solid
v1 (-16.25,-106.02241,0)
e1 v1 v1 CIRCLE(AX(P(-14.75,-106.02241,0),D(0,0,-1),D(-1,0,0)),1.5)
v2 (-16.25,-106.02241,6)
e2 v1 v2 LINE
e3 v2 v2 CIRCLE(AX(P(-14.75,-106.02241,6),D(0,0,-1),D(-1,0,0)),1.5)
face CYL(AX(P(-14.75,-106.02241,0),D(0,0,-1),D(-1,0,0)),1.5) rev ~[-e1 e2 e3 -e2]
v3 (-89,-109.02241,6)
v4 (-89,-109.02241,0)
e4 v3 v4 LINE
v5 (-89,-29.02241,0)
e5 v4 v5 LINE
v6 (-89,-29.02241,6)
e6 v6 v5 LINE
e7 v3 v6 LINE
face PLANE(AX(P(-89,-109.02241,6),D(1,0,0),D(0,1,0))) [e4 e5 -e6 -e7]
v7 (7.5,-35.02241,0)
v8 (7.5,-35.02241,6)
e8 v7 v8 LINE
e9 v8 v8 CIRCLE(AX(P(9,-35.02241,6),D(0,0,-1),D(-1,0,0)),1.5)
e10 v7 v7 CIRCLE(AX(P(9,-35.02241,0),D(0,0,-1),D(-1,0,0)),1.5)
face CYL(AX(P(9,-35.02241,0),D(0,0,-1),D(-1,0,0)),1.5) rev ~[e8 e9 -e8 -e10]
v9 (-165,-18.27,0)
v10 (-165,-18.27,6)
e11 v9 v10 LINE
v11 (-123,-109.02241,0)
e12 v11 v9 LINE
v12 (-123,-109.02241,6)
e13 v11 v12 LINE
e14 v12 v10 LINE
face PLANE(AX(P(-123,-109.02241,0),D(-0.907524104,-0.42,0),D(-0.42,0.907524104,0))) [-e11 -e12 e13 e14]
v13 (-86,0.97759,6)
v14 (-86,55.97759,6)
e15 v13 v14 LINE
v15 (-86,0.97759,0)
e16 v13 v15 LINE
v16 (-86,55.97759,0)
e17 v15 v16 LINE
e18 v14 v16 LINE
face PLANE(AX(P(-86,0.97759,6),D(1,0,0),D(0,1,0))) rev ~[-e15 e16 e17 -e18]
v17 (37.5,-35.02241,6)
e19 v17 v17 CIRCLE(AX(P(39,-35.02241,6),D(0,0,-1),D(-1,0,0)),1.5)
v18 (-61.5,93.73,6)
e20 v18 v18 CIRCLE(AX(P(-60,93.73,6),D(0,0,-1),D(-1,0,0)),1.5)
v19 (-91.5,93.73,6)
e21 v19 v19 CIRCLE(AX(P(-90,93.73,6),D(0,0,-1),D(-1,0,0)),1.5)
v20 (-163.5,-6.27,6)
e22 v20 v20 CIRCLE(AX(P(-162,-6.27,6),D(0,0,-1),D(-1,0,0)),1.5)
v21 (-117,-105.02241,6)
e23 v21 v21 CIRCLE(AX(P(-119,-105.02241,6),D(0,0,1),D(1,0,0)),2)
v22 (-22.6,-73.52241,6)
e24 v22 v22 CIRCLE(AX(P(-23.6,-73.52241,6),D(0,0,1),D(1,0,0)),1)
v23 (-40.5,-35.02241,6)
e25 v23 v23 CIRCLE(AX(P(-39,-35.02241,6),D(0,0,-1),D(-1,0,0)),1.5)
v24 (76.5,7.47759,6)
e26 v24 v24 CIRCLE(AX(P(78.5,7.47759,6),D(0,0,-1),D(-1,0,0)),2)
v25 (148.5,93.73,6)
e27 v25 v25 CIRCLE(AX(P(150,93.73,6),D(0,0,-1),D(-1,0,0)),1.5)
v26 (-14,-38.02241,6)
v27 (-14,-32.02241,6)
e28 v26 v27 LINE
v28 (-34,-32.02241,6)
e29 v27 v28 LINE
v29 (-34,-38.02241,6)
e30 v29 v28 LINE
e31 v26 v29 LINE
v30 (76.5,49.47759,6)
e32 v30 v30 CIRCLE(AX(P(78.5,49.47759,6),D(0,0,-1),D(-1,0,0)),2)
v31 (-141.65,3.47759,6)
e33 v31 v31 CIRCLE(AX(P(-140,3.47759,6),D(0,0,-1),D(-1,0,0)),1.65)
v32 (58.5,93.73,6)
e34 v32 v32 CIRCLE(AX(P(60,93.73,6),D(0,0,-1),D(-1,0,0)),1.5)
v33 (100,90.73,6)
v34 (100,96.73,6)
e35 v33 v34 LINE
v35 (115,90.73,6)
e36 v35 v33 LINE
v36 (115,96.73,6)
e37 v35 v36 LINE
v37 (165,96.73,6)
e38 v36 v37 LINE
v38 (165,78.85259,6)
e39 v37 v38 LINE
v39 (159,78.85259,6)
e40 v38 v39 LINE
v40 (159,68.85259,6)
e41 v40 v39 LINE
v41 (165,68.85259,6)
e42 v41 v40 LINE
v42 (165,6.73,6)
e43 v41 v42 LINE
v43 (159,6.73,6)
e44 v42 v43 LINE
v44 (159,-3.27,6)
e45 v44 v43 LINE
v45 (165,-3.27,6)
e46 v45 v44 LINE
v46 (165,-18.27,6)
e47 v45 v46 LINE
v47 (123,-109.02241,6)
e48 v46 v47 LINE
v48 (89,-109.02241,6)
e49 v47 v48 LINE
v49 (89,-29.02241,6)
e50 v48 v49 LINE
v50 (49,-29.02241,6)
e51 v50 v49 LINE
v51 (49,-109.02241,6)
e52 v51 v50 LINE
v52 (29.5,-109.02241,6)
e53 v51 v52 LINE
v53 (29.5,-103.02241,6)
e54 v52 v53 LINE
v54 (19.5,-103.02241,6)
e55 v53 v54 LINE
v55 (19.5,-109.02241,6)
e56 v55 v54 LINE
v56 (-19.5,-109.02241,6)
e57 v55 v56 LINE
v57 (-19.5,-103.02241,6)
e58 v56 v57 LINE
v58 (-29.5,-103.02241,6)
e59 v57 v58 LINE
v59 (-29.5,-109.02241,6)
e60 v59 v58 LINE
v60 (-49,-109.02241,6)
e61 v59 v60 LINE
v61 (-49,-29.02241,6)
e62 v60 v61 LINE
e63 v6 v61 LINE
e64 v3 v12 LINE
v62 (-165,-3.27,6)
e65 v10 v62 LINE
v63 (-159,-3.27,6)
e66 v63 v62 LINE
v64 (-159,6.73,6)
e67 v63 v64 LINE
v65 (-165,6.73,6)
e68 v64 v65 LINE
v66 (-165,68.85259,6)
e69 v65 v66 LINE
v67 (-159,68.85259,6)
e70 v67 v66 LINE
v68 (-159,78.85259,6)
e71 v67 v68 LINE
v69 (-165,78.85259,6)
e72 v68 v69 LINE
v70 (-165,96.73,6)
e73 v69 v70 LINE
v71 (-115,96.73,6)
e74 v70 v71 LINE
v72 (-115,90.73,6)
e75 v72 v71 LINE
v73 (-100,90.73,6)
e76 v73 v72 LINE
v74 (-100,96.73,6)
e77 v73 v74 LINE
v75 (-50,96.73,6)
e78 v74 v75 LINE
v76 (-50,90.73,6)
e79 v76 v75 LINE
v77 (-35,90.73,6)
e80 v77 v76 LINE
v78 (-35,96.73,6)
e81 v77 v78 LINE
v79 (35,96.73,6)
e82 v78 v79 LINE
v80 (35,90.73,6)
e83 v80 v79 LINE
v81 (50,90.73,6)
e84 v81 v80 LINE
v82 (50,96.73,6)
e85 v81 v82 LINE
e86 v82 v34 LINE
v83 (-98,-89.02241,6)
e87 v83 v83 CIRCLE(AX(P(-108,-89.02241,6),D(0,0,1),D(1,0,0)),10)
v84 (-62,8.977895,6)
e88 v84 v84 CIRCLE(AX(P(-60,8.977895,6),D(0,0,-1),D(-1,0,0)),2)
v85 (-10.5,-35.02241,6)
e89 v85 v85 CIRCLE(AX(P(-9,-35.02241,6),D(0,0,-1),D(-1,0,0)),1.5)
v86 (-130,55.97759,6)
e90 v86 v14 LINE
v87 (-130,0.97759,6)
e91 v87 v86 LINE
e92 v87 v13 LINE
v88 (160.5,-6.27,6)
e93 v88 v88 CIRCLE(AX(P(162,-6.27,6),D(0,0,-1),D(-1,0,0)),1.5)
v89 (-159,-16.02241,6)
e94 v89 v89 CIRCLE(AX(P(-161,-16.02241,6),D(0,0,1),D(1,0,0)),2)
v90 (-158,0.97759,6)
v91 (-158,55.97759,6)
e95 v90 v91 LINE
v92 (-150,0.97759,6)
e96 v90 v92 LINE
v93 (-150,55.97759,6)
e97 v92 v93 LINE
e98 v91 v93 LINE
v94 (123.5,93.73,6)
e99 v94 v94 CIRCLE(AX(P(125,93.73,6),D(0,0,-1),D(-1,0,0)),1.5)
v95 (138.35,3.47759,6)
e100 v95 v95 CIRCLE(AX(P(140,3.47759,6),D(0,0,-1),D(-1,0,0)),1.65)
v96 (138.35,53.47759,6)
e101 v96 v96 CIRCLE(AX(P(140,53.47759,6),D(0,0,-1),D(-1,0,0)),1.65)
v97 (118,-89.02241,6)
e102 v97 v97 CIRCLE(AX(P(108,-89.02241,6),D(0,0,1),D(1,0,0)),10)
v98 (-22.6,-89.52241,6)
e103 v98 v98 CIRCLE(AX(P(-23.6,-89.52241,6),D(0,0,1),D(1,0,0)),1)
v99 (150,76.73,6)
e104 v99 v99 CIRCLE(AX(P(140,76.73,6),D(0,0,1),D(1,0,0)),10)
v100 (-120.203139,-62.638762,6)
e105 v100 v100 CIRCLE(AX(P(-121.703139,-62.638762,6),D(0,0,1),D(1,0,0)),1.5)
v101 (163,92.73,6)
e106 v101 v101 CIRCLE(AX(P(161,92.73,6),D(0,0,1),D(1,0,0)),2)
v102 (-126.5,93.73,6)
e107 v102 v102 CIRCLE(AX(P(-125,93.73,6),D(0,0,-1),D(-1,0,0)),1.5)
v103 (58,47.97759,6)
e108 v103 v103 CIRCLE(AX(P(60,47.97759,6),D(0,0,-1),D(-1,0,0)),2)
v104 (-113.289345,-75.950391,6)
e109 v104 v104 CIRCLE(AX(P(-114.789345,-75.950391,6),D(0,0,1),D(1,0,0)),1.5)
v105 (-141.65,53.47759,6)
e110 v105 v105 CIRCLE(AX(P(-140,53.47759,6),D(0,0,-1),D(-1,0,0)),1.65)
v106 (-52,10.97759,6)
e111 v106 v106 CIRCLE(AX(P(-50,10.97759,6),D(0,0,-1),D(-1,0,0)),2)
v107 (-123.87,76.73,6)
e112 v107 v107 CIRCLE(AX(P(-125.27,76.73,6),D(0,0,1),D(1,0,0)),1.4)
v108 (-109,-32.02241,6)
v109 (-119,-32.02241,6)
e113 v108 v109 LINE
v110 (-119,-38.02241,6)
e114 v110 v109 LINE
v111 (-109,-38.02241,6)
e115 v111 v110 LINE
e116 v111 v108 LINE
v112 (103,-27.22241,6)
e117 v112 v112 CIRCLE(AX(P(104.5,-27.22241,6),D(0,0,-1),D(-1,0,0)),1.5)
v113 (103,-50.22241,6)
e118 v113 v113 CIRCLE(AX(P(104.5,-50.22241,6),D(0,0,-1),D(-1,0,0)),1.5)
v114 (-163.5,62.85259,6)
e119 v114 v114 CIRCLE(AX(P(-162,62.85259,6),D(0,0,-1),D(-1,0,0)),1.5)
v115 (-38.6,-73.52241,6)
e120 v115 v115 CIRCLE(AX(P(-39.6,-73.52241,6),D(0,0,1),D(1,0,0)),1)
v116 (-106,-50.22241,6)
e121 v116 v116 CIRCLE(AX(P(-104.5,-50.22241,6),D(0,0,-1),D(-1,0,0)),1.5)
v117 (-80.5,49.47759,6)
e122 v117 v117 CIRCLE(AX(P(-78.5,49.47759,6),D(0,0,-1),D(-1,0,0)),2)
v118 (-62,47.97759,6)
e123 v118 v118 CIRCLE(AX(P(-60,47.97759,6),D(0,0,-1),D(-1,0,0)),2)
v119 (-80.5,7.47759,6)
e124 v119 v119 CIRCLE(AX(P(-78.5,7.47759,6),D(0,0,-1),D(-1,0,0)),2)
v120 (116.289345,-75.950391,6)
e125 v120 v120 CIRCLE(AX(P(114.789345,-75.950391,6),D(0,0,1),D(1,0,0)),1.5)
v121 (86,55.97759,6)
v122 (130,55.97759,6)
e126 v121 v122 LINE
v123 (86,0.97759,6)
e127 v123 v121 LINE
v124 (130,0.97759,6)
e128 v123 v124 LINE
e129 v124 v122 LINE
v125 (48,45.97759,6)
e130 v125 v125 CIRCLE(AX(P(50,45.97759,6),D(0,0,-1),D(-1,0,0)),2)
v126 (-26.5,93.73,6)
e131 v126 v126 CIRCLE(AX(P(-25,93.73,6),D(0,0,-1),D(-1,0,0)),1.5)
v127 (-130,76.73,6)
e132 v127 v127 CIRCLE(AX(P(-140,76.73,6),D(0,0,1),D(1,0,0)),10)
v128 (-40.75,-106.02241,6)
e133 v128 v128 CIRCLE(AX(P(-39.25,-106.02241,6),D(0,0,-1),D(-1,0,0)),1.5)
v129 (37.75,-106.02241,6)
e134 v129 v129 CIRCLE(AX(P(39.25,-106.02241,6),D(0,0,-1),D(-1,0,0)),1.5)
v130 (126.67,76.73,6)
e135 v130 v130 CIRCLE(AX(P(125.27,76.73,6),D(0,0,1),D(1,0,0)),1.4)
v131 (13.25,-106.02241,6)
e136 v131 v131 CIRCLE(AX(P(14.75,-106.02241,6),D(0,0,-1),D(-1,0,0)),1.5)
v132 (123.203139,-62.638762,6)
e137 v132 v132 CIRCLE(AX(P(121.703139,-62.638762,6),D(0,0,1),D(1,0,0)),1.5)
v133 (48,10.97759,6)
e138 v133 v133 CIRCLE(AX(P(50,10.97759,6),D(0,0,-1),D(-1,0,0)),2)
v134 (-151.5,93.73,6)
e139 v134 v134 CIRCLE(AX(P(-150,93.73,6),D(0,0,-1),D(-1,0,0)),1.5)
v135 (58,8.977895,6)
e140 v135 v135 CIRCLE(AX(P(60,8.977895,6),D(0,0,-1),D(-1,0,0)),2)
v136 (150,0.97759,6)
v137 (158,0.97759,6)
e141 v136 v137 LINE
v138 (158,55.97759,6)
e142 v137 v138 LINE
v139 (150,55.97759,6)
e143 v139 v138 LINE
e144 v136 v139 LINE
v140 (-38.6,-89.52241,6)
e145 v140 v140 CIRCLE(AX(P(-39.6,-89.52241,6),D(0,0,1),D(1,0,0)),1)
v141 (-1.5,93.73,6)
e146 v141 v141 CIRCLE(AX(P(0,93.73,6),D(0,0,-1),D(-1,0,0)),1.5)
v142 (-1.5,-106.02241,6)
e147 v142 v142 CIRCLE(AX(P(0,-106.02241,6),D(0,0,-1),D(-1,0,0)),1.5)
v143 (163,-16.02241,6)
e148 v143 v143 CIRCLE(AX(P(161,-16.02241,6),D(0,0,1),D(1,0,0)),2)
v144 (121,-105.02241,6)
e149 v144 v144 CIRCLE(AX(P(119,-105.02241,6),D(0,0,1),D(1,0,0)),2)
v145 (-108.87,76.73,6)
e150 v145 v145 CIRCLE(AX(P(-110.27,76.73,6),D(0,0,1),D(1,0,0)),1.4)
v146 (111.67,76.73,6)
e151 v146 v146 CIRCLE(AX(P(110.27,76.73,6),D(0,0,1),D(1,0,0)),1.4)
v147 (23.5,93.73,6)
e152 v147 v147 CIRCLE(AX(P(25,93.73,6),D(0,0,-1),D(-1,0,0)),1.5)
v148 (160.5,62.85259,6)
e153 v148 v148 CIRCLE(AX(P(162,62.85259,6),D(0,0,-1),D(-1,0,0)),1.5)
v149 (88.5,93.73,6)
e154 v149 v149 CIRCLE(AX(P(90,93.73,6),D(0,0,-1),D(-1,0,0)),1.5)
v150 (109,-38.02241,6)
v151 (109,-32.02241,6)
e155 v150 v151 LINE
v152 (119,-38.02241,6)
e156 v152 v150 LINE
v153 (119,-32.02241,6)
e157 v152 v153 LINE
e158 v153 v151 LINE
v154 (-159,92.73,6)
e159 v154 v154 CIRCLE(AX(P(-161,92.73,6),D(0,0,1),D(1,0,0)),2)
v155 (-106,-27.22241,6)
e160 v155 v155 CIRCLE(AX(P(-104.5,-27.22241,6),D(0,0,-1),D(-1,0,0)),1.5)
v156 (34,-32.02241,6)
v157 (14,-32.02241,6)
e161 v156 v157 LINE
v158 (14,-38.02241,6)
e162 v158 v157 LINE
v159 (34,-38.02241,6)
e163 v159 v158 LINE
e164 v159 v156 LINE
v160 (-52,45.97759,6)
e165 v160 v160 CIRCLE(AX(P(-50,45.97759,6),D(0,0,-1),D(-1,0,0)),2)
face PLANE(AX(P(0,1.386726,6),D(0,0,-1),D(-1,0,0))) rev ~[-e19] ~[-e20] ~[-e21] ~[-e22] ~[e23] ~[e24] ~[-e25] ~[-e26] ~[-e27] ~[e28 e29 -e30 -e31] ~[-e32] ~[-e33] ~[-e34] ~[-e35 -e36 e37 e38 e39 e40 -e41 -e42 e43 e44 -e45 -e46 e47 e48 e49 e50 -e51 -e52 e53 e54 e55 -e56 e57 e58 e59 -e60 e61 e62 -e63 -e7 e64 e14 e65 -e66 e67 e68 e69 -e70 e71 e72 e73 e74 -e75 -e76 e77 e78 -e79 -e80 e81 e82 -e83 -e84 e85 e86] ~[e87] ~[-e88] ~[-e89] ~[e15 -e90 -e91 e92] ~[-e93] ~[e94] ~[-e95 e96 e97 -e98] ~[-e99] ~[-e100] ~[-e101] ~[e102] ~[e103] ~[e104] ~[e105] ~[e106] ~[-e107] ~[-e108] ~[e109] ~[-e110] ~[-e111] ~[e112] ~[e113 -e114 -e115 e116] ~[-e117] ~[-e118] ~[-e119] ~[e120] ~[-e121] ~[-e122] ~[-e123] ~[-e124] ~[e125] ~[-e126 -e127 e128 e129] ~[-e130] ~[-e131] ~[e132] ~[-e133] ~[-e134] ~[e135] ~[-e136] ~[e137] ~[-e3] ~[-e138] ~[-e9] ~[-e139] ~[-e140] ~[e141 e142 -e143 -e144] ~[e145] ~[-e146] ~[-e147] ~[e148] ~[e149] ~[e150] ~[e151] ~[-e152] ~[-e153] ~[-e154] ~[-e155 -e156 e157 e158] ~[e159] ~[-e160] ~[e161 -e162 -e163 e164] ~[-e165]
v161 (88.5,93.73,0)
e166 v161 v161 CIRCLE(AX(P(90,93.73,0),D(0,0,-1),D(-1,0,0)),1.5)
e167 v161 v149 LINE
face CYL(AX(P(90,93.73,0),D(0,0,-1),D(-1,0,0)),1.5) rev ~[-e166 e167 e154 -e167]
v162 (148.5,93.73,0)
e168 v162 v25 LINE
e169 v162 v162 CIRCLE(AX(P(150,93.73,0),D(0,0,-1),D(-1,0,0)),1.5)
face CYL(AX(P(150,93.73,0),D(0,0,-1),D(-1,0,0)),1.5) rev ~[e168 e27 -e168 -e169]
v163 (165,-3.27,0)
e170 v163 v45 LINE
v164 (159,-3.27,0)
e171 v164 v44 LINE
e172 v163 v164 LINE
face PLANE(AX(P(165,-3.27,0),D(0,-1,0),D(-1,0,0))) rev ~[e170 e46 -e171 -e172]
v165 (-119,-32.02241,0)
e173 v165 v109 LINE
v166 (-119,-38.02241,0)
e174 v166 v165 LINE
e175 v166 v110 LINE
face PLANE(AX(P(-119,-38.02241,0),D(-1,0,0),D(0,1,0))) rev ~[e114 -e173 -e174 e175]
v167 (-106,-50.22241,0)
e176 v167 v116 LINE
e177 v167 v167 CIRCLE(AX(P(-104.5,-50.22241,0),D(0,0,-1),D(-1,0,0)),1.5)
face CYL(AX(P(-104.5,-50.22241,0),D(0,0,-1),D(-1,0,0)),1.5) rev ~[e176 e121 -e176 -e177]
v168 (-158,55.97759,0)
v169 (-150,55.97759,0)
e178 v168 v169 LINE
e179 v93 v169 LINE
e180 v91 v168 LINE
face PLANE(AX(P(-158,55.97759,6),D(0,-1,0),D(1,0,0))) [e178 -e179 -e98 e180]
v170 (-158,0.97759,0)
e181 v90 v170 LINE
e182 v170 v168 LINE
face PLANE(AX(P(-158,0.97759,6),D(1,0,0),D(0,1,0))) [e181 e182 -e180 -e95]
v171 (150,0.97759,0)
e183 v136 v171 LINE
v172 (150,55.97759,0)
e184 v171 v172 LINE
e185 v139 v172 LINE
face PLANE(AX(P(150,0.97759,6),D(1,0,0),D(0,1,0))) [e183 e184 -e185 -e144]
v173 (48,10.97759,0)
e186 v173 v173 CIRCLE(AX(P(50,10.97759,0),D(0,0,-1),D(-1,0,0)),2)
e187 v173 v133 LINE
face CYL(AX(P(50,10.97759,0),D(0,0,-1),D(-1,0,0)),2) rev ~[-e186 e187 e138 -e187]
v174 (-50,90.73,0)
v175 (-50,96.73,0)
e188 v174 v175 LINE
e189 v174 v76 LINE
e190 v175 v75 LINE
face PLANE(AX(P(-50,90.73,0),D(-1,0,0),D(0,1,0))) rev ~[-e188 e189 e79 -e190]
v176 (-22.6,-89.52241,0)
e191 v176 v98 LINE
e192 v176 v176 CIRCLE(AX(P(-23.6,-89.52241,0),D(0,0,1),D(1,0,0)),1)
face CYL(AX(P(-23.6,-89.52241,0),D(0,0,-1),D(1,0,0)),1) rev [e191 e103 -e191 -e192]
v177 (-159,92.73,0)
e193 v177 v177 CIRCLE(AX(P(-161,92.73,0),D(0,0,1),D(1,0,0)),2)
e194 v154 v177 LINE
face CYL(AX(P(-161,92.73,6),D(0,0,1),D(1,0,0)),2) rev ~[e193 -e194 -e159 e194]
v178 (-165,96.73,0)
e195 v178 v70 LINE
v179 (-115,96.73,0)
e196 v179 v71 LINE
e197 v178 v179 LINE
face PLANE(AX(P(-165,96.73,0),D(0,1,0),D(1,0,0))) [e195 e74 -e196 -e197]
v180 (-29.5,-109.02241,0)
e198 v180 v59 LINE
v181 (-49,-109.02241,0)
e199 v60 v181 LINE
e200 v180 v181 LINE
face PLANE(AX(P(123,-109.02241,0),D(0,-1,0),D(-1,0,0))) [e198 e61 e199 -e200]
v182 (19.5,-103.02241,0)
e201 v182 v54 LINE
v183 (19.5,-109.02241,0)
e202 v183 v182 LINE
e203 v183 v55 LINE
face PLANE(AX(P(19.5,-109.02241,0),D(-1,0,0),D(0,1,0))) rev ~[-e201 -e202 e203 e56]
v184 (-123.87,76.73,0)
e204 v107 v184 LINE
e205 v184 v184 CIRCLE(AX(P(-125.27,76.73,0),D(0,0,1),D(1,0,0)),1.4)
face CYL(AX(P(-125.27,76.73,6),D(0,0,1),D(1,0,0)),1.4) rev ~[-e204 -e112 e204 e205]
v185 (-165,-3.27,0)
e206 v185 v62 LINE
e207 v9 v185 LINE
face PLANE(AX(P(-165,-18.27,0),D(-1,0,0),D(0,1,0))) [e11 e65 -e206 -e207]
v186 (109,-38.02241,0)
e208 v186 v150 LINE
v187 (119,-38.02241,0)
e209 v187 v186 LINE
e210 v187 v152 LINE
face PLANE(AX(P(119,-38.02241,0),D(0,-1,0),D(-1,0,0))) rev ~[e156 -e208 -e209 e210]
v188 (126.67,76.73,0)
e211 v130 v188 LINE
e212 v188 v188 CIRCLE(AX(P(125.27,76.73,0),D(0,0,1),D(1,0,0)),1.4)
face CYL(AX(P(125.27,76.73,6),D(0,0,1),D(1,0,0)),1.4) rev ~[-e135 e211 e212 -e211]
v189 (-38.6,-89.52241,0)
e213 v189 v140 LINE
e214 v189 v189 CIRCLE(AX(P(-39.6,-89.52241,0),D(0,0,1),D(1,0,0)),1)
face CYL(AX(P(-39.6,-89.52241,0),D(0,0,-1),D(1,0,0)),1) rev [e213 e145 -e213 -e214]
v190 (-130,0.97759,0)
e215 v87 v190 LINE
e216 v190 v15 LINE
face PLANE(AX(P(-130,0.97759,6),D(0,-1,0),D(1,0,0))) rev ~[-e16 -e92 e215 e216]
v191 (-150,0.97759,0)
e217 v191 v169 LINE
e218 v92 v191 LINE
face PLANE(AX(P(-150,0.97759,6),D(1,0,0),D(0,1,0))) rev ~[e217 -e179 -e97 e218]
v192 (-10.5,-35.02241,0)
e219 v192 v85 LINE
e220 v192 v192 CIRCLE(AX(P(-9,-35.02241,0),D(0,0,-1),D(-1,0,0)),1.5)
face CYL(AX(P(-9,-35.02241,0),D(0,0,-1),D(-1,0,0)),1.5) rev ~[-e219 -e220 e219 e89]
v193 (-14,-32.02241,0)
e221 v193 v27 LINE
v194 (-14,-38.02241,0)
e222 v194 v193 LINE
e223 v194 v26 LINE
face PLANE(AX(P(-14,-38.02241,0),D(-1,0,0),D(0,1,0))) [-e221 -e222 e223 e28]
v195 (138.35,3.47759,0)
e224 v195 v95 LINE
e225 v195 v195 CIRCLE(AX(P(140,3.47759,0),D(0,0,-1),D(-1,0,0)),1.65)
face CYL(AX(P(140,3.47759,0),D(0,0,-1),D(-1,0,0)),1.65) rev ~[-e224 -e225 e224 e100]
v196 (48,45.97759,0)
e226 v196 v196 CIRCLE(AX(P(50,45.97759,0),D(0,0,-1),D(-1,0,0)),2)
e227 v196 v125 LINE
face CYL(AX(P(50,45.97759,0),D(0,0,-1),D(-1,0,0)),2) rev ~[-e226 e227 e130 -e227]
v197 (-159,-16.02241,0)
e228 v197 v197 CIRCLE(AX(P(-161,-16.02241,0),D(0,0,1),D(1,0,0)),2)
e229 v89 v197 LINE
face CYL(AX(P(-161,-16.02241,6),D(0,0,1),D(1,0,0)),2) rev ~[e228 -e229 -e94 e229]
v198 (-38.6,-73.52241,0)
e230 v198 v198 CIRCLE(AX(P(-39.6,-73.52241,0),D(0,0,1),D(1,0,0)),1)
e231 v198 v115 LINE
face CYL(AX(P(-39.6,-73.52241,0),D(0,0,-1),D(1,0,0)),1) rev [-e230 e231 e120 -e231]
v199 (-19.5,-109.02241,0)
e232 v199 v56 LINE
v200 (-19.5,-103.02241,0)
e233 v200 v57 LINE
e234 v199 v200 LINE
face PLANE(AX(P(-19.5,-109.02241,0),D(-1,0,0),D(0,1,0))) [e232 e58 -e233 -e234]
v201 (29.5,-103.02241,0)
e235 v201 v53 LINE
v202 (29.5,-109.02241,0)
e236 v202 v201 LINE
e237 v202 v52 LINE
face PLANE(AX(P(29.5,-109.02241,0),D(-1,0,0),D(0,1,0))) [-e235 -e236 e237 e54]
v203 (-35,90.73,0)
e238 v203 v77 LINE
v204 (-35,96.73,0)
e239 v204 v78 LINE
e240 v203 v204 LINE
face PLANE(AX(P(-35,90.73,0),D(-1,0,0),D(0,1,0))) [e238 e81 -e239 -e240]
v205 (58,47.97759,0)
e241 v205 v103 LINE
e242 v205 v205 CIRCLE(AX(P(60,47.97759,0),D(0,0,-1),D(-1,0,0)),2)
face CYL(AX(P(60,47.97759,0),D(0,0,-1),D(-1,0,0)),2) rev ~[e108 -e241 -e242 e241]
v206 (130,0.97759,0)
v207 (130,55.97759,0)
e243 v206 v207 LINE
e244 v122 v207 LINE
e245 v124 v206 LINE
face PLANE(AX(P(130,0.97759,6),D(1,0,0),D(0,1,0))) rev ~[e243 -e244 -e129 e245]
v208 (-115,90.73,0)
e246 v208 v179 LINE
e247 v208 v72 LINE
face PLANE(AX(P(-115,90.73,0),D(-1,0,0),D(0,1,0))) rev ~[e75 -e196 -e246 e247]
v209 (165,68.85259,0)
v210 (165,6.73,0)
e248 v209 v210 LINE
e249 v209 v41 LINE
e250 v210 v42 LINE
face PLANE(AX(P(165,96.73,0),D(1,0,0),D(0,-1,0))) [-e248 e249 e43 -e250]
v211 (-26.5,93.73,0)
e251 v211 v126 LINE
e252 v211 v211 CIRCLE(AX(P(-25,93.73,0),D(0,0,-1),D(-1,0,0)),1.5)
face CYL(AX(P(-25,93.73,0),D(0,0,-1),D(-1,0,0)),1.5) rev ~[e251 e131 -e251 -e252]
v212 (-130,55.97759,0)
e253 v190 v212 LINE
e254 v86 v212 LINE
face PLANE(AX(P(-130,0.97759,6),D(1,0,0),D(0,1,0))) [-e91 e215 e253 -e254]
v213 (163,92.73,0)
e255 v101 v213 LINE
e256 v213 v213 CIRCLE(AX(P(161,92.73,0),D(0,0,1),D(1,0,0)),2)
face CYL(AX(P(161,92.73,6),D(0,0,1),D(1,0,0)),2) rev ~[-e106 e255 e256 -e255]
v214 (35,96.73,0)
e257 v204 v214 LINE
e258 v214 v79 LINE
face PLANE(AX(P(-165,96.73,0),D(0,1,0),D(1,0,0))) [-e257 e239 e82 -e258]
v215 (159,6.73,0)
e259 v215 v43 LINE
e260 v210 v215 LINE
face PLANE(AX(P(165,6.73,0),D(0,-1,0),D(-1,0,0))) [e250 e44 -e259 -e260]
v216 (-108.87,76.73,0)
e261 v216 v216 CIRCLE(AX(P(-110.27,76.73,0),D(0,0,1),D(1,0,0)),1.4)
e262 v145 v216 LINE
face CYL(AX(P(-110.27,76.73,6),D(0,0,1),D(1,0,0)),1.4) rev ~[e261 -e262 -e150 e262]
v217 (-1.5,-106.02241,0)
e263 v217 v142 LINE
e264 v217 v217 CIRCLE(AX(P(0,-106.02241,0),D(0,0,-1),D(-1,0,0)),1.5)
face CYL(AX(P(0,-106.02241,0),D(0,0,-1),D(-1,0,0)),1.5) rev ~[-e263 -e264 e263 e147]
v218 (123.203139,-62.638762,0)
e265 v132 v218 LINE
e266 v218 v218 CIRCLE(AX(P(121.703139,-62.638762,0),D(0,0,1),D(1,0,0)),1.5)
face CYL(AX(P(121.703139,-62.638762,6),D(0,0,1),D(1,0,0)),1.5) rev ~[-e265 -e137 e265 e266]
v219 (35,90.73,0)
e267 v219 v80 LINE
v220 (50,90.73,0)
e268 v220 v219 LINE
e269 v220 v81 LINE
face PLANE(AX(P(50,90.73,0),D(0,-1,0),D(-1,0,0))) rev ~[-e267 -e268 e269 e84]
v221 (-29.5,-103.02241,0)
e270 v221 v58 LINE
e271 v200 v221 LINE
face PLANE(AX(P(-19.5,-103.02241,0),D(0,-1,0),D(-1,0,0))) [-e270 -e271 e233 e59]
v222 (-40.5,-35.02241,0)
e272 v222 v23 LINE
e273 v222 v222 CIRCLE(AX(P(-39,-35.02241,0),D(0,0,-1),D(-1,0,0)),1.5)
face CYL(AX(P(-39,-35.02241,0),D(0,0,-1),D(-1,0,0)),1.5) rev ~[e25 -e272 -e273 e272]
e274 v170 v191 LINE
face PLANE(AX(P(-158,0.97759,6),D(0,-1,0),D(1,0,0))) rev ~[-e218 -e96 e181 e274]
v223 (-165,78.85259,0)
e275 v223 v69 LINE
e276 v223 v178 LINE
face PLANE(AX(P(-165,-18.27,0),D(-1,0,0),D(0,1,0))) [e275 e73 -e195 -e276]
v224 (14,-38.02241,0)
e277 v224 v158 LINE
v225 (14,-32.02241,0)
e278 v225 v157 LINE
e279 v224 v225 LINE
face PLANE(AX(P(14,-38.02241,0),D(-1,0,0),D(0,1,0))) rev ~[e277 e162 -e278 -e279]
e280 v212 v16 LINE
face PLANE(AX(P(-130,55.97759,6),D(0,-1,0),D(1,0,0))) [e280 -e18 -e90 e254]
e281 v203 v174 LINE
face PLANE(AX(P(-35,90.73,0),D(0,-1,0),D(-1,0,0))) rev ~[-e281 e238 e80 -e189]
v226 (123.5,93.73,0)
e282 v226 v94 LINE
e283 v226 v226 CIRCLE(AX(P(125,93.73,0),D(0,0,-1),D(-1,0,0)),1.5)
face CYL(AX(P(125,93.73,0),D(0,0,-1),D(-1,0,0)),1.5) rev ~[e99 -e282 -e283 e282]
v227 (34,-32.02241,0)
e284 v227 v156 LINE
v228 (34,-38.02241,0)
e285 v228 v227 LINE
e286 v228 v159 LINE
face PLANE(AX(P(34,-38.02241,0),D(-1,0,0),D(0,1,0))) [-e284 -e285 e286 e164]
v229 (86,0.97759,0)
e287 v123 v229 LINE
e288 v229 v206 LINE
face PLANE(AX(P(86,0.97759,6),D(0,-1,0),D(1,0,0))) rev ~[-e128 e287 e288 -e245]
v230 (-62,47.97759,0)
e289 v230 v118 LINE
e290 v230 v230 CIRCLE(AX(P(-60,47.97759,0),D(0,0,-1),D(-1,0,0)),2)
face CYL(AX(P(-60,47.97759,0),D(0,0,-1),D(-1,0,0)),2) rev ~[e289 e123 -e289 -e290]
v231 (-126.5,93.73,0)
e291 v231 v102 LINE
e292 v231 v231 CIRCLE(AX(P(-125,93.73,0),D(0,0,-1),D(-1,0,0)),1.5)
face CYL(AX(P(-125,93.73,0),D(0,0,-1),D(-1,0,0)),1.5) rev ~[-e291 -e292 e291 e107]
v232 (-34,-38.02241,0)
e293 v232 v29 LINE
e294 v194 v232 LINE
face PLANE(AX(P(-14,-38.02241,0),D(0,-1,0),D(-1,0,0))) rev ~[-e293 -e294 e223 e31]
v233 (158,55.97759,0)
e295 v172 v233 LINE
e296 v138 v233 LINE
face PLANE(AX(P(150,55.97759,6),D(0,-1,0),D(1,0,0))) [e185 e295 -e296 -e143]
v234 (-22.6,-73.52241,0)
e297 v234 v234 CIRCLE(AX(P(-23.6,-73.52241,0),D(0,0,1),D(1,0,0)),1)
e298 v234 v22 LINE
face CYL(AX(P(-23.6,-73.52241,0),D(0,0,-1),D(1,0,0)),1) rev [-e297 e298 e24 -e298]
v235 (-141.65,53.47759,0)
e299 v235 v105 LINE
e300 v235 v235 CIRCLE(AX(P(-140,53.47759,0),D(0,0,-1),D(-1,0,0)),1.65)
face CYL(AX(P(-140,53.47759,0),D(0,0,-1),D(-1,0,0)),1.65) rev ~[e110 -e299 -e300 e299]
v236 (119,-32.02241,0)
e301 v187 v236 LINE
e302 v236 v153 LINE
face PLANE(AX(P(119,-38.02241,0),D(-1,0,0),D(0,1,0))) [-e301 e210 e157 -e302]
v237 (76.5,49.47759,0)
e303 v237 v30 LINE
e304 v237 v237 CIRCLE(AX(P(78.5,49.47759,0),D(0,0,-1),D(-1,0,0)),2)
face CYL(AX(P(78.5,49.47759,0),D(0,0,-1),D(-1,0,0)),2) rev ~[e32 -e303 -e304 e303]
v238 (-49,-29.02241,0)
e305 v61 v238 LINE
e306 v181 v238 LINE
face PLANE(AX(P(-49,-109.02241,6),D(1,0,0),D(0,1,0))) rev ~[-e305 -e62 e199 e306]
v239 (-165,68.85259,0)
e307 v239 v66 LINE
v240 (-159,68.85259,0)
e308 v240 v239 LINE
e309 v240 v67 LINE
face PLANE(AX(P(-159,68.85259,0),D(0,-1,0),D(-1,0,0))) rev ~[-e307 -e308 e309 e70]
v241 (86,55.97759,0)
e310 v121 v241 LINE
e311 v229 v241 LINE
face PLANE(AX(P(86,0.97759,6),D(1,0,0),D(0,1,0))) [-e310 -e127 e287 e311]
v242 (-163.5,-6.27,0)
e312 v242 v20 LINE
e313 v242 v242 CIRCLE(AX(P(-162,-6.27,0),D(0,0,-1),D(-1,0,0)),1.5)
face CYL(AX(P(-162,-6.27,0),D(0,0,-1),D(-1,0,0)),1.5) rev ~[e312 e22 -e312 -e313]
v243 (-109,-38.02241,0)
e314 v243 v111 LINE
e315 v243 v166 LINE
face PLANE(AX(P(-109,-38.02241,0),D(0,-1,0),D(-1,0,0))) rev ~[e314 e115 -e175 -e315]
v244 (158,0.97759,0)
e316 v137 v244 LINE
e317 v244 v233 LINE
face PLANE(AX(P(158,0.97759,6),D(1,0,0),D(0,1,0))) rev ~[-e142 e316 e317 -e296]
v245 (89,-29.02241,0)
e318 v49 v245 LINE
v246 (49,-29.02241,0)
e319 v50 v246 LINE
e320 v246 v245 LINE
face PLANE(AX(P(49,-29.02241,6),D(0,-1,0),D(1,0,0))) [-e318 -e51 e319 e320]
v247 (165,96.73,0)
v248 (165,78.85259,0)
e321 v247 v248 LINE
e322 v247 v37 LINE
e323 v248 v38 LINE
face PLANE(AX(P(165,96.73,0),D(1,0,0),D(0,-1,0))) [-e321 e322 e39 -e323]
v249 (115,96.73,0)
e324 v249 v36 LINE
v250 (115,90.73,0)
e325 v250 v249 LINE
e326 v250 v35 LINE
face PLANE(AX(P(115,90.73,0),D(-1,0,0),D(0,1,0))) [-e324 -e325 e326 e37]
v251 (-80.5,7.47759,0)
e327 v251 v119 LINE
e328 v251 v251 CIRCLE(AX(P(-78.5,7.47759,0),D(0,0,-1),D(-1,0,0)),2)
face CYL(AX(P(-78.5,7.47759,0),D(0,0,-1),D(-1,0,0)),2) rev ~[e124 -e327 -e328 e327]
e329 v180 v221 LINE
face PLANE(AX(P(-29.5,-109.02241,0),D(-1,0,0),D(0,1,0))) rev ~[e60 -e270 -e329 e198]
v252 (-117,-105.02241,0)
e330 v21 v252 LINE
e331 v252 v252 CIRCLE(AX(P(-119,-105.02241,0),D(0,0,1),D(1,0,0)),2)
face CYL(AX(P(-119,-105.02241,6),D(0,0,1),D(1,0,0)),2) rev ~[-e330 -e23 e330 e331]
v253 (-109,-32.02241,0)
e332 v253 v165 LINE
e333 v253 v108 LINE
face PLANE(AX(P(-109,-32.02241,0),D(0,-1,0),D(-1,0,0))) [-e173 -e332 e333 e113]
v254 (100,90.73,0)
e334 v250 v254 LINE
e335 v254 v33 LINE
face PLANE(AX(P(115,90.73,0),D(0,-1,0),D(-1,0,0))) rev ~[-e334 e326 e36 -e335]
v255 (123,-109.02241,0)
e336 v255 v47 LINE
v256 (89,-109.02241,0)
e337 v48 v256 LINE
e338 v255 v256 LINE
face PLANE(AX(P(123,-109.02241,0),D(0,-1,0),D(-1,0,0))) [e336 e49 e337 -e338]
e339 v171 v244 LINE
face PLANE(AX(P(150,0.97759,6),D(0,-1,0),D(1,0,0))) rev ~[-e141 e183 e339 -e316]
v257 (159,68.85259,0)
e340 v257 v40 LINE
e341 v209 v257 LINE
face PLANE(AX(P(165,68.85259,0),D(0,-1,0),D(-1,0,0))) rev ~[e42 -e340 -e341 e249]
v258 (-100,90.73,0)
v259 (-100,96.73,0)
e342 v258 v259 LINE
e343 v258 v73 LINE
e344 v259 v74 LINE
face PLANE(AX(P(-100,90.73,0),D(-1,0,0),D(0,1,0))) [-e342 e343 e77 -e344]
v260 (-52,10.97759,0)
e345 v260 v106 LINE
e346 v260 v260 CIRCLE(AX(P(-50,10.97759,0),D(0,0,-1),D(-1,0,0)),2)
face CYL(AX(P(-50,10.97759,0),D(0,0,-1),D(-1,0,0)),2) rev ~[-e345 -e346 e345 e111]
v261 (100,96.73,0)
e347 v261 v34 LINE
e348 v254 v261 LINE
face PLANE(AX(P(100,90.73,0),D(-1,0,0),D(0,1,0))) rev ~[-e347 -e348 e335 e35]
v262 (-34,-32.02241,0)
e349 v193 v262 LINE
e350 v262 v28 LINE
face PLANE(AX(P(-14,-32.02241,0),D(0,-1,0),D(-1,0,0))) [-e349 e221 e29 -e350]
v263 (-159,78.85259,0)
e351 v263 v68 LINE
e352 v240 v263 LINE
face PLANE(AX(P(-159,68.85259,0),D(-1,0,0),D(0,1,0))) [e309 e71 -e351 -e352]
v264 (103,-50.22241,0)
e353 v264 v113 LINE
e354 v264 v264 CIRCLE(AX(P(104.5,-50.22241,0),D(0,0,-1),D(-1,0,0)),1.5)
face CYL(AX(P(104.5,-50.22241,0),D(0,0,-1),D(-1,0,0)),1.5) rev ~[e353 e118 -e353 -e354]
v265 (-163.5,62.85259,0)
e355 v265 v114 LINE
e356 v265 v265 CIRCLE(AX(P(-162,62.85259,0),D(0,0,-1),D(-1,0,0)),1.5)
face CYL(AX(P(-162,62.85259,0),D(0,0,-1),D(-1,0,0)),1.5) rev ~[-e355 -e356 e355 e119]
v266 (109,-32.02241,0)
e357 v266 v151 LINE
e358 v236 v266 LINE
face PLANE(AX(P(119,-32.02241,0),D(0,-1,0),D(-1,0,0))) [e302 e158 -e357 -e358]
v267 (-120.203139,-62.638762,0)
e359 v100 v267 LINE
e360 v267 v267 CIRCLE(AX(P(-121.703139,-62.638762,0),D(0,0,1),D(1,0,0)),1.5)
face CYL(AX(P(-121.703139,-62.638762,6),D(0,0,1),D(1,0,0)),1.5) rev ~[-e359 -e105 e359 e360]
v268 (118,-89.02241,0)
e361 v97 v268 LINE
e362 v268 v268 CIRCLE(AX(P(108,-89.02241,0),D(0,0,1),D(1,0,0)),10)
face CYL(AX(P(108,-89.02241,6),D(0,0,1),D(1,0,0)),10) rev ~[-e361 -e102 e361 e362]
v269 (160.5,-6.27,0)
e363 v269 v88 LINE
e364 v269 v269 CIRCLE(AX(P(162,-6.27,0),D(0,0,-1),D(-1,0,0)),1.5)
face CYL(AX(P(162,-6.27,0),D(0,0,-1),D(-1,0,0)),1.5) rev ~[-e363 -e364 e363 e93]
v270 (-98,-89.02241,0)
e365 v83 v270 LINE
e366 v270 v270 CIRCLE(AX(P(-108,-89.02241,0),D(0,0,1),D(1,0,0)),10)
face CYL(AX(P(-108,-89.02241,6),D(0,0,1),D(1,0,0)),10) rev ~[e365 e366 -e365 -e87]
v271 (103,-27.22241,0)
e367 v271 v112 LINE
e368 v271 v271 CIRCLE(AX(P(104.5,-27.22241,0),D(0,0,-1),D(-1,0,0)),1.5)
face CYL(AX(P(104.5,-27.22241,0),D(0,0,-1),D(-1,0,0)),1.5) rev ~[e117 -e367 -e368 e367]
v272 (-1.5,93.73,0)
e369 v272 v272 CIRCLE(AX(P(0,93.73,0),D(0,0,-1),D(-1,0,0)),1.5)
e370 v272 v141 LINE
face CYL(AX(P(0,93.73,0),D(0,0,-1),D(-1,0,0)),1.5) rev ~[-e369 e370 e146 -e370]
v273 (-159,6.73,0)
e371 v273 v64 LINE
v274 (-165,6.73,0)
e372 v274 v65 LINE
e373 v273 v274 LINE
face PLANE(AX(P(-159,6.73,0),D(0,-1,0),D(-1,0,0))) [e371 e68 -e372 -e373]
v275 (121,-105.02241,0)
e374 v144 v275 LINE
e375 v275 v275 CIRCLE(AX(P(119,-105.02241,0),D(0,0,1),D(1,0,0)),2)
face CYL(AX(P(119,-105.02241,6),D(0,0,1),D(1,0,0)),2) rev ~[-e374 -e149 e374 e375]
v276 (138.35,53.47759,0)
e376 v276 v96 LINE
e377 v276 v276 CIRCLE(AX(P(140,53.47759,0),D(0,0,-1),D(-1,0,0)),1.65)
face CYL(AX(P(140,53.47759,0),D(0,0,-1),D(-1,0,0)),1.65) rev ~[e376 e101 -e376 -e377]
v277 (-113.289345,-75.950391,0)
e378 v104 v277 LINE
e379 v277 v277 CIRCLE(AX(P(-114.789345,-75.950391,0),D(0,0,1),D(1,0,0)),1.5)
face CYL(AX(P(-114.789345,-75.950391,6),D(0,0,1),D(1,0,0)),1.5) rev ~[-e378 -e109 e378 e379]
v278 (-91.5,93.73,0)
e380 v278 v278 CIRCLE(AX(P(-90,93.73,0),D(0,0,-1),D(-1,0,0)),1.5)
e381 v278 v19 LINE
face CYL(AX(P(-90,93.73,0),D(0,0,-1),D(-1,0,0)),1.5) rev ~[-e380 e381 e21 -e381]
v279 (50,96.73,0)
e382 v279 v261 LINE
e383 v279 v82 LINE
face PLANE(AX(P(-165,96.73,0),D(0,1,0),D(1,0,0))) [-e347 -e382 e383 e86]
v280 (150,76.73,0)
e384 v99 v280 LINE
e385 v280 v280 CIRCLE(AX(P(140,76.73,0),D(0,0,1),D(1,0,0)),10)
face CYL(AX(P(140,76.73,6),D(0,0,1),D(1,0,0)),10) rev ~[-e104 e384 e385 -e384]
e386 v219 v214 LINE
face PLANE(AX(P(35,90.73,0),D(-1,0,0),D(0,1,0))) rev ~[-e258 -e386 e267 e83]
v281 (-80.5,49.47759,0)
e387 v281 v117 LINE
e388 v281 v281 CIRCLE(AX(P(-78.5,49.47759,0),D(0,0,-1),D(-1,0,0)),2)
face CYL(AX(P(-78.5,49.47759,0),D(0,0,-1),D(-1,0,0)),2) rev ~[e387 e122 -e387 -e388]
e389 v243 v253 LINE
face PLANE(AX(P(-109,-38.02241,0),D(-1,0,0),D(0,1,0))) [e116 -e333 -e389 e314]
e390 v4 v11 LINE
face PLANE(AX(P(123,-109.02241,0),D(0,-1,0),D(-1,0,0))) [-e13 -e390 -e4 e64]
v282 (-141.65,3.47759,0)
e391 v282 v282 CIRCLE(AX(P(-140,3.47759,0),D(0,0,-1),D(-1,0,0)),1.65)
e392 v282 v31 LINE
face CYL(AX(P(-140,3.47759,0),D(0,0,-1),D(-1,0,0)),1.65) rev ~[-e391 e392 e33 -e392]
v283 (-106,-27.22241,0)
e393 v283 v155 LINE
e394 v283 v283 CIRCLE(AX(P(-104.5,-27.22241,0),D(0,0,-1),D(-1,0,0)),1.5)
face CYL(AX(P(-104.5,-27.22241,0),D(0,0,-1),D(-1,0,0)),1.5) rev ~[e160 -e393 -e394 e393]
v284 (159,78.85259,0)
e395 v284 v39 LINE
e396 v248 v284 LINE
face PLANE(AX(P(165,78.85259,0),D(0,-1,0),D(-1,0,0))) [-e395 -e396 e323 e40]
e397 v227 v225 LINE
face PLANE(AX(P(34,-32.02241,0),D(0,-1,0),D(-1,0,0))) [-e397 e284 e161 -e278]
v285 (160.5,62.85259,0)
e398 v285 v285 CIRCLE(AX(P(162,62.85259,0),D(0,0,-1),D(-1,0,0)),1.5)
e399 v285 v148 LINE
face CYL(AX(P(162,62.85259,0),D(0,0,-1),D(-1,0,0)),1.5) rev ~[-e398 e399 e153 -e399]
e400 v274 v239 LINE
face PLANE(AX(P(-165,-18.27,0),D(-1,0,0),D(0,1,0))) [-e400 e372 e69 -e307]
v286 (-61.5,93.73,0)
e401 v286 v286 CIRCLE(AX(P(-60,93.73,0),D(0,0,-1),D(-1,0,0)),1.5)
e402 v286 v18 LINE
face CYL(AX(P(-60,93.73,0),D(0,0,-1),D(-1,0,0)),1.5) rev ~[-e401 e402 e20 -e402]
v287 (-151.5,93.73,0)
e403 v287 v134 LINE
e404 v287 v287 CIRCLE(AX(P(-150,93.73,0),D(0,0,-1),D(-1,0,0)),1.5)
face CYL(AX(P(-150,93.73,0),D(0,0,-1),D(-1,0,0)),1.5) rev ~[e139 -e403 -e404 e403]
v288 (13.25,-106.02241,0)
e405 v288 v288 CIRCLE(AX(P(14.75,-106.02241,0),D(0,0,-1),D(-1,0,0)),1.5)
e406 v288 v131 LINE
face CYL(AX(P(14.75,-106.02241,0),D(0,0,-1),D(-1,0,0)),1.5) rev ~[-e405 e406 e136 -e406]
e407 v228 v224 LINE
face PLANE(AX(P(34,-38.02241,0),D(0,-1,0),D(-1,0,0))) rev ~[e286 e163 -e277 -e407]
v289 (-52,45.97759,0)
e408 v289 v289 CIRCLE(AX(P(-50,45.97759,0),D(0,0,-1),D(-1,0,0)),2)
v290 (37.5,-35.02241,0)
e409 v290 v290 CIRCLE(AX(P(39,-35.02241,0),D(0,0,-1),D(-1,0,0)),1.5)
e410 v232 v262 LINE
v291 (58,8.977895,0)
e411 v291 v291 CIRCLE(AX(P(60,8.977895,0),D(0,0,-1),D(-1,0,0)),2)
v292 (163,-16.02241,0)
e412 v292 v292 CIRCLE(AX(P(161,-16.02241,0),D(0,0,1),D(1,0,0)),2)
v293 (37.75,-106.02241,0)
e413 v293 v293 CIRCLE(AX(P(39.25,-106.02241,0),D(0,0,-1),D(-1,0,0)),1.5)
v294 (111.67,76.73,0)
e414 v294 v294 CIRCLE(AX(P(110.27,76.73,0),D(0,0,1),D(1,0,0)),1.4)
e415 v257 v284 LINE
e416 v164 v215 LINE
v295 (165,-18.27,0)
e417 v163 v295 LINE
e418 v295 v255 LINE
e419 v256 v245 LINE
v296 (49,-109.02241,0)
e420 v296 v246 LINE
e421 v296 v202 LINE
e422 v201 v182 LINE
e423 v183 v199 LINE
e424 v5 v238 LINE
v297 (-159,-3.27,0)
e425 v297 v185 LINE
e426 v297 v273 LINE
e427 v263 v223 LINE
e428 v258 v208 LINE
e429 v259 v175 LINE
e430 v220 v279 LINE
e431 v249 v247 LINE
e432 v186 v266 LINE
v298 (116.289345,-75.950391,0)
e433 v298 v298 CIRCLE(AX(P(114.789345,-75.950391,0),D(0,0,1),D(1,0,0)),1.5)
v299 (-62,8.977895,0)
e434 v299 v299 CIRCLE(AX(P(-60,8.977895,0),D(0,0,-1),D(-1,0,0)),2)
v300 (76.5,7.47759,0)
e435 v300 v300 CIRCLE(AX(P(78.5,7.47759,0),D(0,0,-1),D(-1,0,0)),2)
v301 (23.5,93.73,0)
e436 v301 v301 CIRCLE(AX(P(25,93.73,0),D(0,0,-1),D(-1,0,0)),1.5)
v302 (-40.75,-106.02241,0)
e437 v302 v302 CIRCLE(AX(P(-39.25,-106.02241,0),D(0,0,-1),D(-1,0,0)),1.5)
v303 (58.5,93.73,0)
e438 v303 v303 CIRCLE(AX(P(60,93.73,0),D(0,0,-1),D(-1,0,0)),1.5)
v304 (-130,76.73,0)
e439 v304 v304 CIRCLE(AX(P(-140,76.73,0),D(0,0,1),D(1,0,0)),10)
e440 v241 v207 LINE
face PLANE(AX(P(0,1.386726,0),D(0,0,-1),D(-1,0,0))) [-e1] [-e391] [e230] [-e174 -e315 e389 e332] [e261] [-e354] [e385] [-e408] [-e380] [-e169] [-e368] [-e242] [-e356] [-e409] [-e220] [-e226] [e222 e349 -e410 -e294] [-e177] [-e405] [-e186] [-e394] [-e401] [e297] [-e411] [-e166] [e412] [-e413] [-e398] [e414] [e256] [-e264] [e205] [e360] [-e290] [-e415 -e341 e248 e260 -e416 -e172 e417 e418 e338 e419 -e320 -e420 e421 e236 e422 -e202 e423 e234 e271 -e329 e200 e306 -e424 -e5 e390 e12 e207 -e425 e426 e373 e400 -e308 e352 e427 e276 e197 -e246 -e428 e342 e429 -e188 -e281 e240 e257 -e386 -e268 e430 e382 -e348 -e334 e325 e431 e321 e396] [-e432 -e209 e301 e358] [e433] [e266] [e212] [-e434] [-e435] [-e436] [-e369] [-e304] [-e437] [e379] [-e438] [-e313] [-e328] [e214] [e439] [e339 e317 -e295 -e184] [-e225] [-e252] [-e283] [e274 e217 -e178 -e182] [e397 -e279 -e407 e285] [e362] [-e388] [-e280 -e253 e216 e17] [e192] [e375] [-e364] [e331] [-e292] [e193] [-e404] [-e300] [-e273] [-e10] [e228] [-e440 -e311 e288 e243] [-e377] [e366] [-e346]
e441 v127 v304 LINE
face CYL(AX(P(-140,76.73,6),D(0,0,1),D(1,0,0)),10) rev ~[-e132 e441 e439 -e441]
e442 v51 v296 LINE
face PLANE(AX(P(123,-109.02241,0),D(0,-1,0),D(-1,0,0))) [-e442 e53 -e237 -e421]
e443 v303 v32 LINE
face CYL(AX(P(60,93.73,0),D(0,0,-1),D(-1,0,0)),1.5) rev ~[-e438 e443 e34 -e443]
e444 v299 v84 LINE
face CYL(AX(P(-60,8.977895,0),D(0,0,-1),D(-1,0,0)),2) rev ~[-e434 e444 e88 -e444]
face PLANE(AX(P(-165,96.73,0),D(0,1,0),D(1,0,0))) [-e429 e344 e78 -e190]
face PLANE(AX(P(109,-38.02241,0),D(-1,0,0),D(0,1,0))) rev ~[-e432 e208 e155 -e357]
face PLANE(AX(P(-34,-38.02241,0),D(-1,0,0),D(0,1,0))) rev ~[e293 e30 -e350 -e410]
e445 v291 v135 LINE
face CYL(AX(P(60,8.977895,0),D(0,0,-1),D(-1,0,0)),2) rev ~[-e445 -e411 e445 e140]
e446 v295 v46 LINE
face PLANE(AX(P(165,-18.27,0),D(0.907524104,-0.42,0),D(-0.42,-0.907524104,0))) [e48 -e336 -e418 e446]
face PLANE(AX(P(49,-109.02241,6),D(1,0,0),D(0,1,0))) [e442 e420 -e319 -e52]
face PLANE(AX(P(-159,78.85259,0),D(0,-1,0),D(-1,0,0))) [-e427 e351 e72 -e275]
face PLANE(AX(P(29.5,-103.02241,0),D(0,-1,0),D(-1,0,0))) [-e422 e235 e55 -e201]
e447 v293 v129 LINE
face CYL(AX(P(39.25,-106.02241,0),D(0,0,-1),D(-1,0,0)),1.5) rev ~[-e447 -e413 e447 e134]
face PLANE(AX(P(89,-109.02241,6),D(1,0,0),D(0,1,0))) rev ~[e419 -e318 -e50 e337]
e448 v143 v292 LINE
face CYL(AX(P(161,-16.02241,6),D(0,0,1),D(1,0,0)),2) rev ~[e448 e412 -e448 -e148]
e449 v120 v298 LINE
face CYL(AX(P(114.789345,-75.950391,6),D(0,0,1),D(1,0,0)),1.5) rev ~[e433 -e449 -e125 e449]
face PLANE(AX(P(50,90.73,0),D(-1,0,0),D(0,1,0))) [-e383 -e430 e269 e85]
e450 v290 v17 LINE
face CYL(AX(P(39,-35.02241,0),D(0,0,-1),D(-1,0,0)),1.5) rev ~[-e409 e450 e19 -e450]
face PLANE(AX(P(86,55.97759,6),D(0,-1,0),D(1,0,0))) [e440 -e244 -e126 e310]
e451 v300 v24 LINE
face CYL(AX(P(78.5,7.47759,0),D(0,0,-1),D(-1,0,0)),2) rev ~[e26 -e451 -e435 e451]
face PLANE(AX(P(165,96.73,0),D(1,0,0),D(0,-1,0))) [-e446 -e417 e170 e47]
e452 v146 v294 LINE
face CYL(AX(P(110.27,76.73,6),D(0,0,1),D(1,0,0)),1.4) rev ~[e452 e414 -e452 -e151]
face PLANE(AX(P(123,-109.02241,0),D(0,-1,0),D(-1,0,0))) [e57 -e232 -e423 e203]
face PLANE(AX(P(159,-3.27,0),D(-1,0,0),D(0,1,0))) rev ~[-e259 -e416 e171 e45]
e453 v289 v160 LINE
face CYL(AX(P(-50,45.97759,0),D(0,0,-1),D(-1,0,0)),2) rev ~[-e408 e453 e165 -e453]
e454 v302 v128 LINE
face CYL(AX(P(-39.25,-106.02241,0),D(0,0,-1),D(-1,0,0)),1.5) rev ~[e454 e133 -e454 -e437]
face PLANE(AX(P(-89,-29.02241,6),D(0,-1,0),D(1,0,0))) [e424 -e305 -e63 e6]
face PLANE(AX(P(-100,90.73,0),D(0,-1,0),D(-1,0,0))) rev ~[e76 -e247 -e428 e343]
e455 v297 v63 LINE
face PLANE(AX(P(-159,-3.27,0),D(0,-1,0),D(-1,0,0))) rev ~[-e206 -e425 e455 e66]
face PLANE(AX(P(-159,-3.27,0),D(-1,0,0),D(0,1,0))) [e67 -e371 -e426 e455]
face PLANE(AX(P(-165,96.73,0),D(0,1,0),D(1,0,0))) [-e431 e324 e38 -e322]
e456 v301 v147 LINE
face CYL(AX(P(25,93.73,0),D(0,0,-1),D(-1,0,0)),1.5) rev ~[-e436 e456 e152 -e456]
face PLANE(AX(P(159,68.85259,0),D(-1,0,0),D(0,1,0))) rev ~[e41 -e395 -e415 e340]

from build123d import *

# Parameters (mm, degrees)
ESQUISSE1_R             = 1
BOSS_EXTRU_1_DEPTH      = 6
ESQUISSE2_R             = 10
ESQUISSE2_R_2           = 2
ESQUISSE2_R_3           = 1.4
ESQUISSE2_R_4           = 1.5
ESQUISSE2_W             = 8
ESQUISSE2_H             = 55
ESQUISSE2_W_2           = 44
ESQUISSE2_W_3           = 40
ESQUISSE2_H_2           = 80
ENL_V_MAT_EXTRU_1_DEPTH = 6
ESQUISSE3_W             = 6
ESQUISSE3_H             = 10
ESQUISSE3_W_2           = 10
ESQUISSE3_H_2           = 6
ESQUISSE3_W_3           = 15
ENL_V_MAT_EXTRU_2_DEPTH = 6
ESQUISSE4_R             = 1.5
ENL_V_MAT_EXTRU_3_DEPTH = 6
ESQUISSE5_W             = 10
ESQUISSE5_H             = 6
ESQUISSE5_W_2           = 20
ENL_V_MAT_EXTRU_4_DEPTH = 6
ESQUISSE6_R             = 1.65
ESQUISSE6_R_2           = 1.5
ESQUISSE6_R_3           = 2
ENL_V_MAT_EXTRU_5_DEPTH = 6


with BuildPart() as part:
    # Esquisse1 → Boss.-Extru.1 (new body)
    with BuildSketch(Plane.XY):
        Polygon((-165, 96.73), (165, 96.73), (165, -18.27), (123, -109.022410436), (-123, -109.022410436), (-165, -18.27), align=None)
        with Locations((-23.6, -89.522410436)):
            Circle(ESQUISSE1_R, mode=Mode.SUBTRACT)
        with Locations((-23.6, -73.522410436)):
            Circle(ESQUISSE1_R, mode=Mode.SUBTRACT)
        with Locations((-39.6, -89.522410436)):
            Circle(ESQUISSE1_R, mode=Mode.SUBTRACT)
        with Locations((-39.6, -73.522410436)):
            Circle(ESQUISSE1_R, mode=Mode.SUBTRACT)
    extrude(amount=BOSS_EXTRU_1_DEPTH)

    # Esquisse2 → Enlèv. mat.-Extru.1 (cut)
    with BuildSketch(Plane.XY.offset(6)):
        with Locations((140, 76.73)):
            Circle(ESQUISSE2_R)
        with Locations((108, -89.022410436)):
            Circle(ESQUISSE2_R)
        with Locations((-140, 76.73)):
            Circle(ESQUISSE2_R)
        with Locations((-108, -89.022410436)):
            Circle(ESQUISSE2_R)
        with Locations((161, -16.022410436)):
            Circle(ESQUISSE2_R_2)
        with Locations((119, -105.022410436)):
            Circle(ESQUISSE2_R_2)
        with Locations((161, 92.73)):
            Circle(ESQUISSE2_R_2)
        with Locations((-161, 92.73)):
            Circle(ESQUISSE2_R_2)
        with Locations((-161, -16.022410436)):
            Circle(ESQUISSE2_R_2)
        with Locations((-119, -105.022410436)):
            Circle(ESQUISSE2_R_2)
        with Locations((125.27, 76.73)):
            Circle(ESQUISSE2_R_3)
        with Locations((110.27, 76.73)):
            Circle(ESQUISSE2_R_3)
        with Locations((114.7893454, -75.950391119)):
            Circle(ESQUISSE2_R_4)
        with Locations((121.703139086, -62.638762485)):
            Circle(ESQUISSE2_R_4)
        with Locations((-110.27, 76.73)):
            Circle(ESQUISSE2_R_3)
        with Locations((-125.27, 76.73)):
            Circle(ESQUISSE2_R_3)
        with Locations((-121.703139086, -62.638762485)):
            Circle(ESQUISSE2_R_4)
        with Locations((-114.7893454, -75.950391119)):
            Circle(ESQUISSE2_R_4)
        with Locations((-154, 28.477589564)):
            Rectangle(ESQUISSE2_W, ESQUISSE2_H)
        with Locations((-108, 28.477589564)):
            Rectangle(ESQUISSE2_W_2, ESQUISSE2_H)
        with Locations((108, 28.477589564)):
            Rectangle(ESQUISSE2_W_2, ESQUISSE2_H)
        with Locations((154, 28.477589564)):
            Rectangle(ESQUISSE2_W, ESQUISSE2_H)
        with Locations((69, -69.022410436)):
            Rectangle(ESQUISSE2_W_3, ESQUISSE2_H_2)
        with Locations((-69, -69.022410436)):
            Rectangle(ESQUISSE2_W_3, ESQUISSE2_H_2)
    extrude(amount=-ENL_V_MAT_EXTRU_1_DEPTH, mode=Mode.SUBTRACT)

    # Esquisse3 → Enlèv. mat.-Extru.2 (cut)
    with BuildSketch(Plane(origin=(0, 0, 0), x_dir=(-1, 0, 0), z_dir=(0, 0, -1))):
        with Locations((162, 1.73)):
            Rectangle(ESQUISSE3_W, ESQUISSE3_H)
        with Locations((162, 73.852589564)):
            Rectangle(ESQUISSE3_W, ESQUISSE3_H)
        with Locations((24.5, -106.022410436)):
            Rectangle(ESQUISSE3_W_2, ESQUISSE3_H_2)
        with Locations((-24.5, -106.022410436)):
            Rectangle(ESQUISSE3_W_2, ESQUISSE3_H_2)
        with Locations((-162, 73.852589564)):
            Rectangle(ESQUISSE3_W, ESQUISSE3_H)
        with Locations((-162, 1.73)):
            Rectangle(ESQUISSE3_W, ESQUISSE3_H)
        with Locations((107.5, 93.73)):
            Rectangle(ESQUISSE3_W_3, ESQUISSE3_H_2)
        with Locations((-42.5, 93.73)):
            Rectangle(ESQUISSE3_W_3, ESQUISSE3_H_2)
        with Locations((42.5, 93.73)):
            Rectangle(ESQUISSE3_W_3, ESQUISSE3_H_2)
        with Locations((-107.5, 93.73)):
            Rectangle(ESQUISSE3_W_3, ESQUISSE3_H_2)
    extrude(amount=-ENL_V_MAT_EXTRU_2_DEPTH, mode=Mode.SUBTRACT)

    # Esquisse4 → Enlèv. mat.-Extru.3 (cut)
    with BuildSketch(Plane(origin=(0, 0, 0), x_dir=(-1, 0, 0), z_dir=(0, 0, -1))):
        with Locations((162, -6.27)):
            Circle(ESQUISSE4_R)
        with Locations((0, -106.022410436)):
            Circle(ESQUISSE4_R)
        with Locations((162, 62.852589564)):
            Circle(ESQUISSE4_R)
        with Locations((0, 93.73)):
            Circle(ESQUISSE4_R)
        with Locations((-39.25, -106.022410436)):
            Circle(ESQUISSE4_R)
        with Locations((-14.75, -106.022410436)):
            Circle(ESQUISSE4_R)
        with Locations((14.75, -106.022410436)):
            Circle(ESQUISSE4_R)
        with Locations((39.25, -106.022410436)):
            Circle(ESQUISSE4_R)
        with Locations((150, 93.73)):
            Circle(ESQUISSE4_R)
        with Locations((125, 93.73)):
            Circle(ESQUISSE4_R)
        with Locations((90, 93.73)):
            Circle(ESQUISSE4_R)
        with Locations((-25, 93.73)):
            Circle(ESQUISSE4_R)
        with Locations((60, 93.73)):
            Circle(ESQUISSE4_R)
        with Locations((25, 93.73)):
            Circle(ESQUISSE4_R)
        with Locations((-60, 93.73)):
            Circle(ESQUISSE4_R)
        with Locations((-90, 93.73)):
            Circle(ESQUISSE4_R)
        with Locations((-125, 93.73)):
            Circle(ESQUISSE4_R)
        with Locations((-150, 93.73)):
            Circle(ESQUISSE4_R)
        with Locations((-162, 62.852589564)):
            Circle(ESQUISSE4_R)
        with Locations((-162, -6.27)):
            Circle(ESQUISSE4_R)
    extrude(amount=-ENL_V_MAT_EXTRU_3_DEPTH, mode=Mode.SUBTRACT)

    # Esquisse5 → Enlèv. mat.-Extru.4 (cut)
    with BuildSketch(Plane(origin=(0, 0, 0), x_dir=(-1, 0, 0), z_dir=(0, 0, -1))):
        with Locations((114, -35.022410436)):
            Rectangle(ESQUISSE5_W, ESQUISSE5_H)
        with Locations((24, -35.022410436)):
            Rectangle(ESQUISSE5_W_2, ESQUISSE5_H)
        with Locations((-24, -35.022410436)):
            Rectangle(ESQUISSE5_W_2, ESQUISSE5_H)
        with Locations((-114, -35.022410436)):
            Rectangle(ESQUISSE5_W, ESQUISSE5_H)
    extrude(amount=-ENL_V_MAT_EXTRU_4_DEPTH, mode=Mode.SUBTRACT)

    # Esquisse6 → Enlèv. mat.-Extru.5 (cut)
    with BuildSketch(Plane(origin=(0, 0, 0), x_dir=(-1, 0, 0), z_dir=(0, 0, -1))):
        with Locations((-140, 3.477589564)):
            Circle(ESQUISSE6_R)
        with Locations((-140, 53.477589564)):
            Circle(ESQUISSE6_R)
        with Locations((140, 53.477589564)):
            Circle(ESQUISSE6_R)
        with Locations((140, 3.477589564)):
            Circle(ESQUISSE6_R)
        with Locations((-39, -35.022410436)):
            Circle(ESQUISSE6_R_2)
        with Locations((9, -35.022410436)):
            Circle(ESQUISSE6_R_2)
        with Locations((39, -35.022410436)):
            Circle(ESQUISSE6_R_2)
        with Locations((-9, -35.022410436)):
            Circle(ESQUISSE6_R_2)
        with Locations((-78.5, 49.477589564)):
            Circle(ESQUISSE6_R_3)
        with Locations((-78.5, 7.477589564)):
            Circle(ESQUISSE6_R_3)
        with Locations((-60, 47.977589564)):
            Circle(ESQUISSE6_R_3)
        with Locations((-60, 8.977894939)):
            Circle(ESQUISSE6_R_3)
        with Locations((60, 8.977894939)):
            Circle(ESQUISSE6_R_3)
        with Locations((60, 47.977589564)):
            Circle(ESQUISSE6_R_3)
        with Locations((-50, 45.977589564)):
            Circle(ESQUISSE6_R_3)
        with Locations((50, 45.977589564)):
            Circle(ESQUISSE6_R_3)
        with Locations((50, 10.977589564)):
            Circle(ESQUISSE6_R_3)
        with Locations((-50, 10.977589564)):
            Circle(ESQUISSE6_R_3)
        with Locations((78.5, 7.477589564)):
            Circle(ESQUISSE6_R_3)
        with Locations((78.5, 49.477589564)):
            Circle(ESQUISSE6_R_3)
        with Locations((104.5, -27.222410436)):
            Circle(ESQUISSE6_R_2)
        with Locations((104.5, -50.222410436)):
            Circle(ESQUISSE6_R_2)
        with Locations((-104.5, -50.222410436)):
            Circle(ESQUISSE6_R_2)
        with Locations((-104.5, -27.222410436)):
            Circle(ESQUISSE6_R_2)
    extrude(amount=-ENL_V_MAT_EXTRU_5_DEPTH, mode=Mode.SUBTRACT)


solid = part.part
